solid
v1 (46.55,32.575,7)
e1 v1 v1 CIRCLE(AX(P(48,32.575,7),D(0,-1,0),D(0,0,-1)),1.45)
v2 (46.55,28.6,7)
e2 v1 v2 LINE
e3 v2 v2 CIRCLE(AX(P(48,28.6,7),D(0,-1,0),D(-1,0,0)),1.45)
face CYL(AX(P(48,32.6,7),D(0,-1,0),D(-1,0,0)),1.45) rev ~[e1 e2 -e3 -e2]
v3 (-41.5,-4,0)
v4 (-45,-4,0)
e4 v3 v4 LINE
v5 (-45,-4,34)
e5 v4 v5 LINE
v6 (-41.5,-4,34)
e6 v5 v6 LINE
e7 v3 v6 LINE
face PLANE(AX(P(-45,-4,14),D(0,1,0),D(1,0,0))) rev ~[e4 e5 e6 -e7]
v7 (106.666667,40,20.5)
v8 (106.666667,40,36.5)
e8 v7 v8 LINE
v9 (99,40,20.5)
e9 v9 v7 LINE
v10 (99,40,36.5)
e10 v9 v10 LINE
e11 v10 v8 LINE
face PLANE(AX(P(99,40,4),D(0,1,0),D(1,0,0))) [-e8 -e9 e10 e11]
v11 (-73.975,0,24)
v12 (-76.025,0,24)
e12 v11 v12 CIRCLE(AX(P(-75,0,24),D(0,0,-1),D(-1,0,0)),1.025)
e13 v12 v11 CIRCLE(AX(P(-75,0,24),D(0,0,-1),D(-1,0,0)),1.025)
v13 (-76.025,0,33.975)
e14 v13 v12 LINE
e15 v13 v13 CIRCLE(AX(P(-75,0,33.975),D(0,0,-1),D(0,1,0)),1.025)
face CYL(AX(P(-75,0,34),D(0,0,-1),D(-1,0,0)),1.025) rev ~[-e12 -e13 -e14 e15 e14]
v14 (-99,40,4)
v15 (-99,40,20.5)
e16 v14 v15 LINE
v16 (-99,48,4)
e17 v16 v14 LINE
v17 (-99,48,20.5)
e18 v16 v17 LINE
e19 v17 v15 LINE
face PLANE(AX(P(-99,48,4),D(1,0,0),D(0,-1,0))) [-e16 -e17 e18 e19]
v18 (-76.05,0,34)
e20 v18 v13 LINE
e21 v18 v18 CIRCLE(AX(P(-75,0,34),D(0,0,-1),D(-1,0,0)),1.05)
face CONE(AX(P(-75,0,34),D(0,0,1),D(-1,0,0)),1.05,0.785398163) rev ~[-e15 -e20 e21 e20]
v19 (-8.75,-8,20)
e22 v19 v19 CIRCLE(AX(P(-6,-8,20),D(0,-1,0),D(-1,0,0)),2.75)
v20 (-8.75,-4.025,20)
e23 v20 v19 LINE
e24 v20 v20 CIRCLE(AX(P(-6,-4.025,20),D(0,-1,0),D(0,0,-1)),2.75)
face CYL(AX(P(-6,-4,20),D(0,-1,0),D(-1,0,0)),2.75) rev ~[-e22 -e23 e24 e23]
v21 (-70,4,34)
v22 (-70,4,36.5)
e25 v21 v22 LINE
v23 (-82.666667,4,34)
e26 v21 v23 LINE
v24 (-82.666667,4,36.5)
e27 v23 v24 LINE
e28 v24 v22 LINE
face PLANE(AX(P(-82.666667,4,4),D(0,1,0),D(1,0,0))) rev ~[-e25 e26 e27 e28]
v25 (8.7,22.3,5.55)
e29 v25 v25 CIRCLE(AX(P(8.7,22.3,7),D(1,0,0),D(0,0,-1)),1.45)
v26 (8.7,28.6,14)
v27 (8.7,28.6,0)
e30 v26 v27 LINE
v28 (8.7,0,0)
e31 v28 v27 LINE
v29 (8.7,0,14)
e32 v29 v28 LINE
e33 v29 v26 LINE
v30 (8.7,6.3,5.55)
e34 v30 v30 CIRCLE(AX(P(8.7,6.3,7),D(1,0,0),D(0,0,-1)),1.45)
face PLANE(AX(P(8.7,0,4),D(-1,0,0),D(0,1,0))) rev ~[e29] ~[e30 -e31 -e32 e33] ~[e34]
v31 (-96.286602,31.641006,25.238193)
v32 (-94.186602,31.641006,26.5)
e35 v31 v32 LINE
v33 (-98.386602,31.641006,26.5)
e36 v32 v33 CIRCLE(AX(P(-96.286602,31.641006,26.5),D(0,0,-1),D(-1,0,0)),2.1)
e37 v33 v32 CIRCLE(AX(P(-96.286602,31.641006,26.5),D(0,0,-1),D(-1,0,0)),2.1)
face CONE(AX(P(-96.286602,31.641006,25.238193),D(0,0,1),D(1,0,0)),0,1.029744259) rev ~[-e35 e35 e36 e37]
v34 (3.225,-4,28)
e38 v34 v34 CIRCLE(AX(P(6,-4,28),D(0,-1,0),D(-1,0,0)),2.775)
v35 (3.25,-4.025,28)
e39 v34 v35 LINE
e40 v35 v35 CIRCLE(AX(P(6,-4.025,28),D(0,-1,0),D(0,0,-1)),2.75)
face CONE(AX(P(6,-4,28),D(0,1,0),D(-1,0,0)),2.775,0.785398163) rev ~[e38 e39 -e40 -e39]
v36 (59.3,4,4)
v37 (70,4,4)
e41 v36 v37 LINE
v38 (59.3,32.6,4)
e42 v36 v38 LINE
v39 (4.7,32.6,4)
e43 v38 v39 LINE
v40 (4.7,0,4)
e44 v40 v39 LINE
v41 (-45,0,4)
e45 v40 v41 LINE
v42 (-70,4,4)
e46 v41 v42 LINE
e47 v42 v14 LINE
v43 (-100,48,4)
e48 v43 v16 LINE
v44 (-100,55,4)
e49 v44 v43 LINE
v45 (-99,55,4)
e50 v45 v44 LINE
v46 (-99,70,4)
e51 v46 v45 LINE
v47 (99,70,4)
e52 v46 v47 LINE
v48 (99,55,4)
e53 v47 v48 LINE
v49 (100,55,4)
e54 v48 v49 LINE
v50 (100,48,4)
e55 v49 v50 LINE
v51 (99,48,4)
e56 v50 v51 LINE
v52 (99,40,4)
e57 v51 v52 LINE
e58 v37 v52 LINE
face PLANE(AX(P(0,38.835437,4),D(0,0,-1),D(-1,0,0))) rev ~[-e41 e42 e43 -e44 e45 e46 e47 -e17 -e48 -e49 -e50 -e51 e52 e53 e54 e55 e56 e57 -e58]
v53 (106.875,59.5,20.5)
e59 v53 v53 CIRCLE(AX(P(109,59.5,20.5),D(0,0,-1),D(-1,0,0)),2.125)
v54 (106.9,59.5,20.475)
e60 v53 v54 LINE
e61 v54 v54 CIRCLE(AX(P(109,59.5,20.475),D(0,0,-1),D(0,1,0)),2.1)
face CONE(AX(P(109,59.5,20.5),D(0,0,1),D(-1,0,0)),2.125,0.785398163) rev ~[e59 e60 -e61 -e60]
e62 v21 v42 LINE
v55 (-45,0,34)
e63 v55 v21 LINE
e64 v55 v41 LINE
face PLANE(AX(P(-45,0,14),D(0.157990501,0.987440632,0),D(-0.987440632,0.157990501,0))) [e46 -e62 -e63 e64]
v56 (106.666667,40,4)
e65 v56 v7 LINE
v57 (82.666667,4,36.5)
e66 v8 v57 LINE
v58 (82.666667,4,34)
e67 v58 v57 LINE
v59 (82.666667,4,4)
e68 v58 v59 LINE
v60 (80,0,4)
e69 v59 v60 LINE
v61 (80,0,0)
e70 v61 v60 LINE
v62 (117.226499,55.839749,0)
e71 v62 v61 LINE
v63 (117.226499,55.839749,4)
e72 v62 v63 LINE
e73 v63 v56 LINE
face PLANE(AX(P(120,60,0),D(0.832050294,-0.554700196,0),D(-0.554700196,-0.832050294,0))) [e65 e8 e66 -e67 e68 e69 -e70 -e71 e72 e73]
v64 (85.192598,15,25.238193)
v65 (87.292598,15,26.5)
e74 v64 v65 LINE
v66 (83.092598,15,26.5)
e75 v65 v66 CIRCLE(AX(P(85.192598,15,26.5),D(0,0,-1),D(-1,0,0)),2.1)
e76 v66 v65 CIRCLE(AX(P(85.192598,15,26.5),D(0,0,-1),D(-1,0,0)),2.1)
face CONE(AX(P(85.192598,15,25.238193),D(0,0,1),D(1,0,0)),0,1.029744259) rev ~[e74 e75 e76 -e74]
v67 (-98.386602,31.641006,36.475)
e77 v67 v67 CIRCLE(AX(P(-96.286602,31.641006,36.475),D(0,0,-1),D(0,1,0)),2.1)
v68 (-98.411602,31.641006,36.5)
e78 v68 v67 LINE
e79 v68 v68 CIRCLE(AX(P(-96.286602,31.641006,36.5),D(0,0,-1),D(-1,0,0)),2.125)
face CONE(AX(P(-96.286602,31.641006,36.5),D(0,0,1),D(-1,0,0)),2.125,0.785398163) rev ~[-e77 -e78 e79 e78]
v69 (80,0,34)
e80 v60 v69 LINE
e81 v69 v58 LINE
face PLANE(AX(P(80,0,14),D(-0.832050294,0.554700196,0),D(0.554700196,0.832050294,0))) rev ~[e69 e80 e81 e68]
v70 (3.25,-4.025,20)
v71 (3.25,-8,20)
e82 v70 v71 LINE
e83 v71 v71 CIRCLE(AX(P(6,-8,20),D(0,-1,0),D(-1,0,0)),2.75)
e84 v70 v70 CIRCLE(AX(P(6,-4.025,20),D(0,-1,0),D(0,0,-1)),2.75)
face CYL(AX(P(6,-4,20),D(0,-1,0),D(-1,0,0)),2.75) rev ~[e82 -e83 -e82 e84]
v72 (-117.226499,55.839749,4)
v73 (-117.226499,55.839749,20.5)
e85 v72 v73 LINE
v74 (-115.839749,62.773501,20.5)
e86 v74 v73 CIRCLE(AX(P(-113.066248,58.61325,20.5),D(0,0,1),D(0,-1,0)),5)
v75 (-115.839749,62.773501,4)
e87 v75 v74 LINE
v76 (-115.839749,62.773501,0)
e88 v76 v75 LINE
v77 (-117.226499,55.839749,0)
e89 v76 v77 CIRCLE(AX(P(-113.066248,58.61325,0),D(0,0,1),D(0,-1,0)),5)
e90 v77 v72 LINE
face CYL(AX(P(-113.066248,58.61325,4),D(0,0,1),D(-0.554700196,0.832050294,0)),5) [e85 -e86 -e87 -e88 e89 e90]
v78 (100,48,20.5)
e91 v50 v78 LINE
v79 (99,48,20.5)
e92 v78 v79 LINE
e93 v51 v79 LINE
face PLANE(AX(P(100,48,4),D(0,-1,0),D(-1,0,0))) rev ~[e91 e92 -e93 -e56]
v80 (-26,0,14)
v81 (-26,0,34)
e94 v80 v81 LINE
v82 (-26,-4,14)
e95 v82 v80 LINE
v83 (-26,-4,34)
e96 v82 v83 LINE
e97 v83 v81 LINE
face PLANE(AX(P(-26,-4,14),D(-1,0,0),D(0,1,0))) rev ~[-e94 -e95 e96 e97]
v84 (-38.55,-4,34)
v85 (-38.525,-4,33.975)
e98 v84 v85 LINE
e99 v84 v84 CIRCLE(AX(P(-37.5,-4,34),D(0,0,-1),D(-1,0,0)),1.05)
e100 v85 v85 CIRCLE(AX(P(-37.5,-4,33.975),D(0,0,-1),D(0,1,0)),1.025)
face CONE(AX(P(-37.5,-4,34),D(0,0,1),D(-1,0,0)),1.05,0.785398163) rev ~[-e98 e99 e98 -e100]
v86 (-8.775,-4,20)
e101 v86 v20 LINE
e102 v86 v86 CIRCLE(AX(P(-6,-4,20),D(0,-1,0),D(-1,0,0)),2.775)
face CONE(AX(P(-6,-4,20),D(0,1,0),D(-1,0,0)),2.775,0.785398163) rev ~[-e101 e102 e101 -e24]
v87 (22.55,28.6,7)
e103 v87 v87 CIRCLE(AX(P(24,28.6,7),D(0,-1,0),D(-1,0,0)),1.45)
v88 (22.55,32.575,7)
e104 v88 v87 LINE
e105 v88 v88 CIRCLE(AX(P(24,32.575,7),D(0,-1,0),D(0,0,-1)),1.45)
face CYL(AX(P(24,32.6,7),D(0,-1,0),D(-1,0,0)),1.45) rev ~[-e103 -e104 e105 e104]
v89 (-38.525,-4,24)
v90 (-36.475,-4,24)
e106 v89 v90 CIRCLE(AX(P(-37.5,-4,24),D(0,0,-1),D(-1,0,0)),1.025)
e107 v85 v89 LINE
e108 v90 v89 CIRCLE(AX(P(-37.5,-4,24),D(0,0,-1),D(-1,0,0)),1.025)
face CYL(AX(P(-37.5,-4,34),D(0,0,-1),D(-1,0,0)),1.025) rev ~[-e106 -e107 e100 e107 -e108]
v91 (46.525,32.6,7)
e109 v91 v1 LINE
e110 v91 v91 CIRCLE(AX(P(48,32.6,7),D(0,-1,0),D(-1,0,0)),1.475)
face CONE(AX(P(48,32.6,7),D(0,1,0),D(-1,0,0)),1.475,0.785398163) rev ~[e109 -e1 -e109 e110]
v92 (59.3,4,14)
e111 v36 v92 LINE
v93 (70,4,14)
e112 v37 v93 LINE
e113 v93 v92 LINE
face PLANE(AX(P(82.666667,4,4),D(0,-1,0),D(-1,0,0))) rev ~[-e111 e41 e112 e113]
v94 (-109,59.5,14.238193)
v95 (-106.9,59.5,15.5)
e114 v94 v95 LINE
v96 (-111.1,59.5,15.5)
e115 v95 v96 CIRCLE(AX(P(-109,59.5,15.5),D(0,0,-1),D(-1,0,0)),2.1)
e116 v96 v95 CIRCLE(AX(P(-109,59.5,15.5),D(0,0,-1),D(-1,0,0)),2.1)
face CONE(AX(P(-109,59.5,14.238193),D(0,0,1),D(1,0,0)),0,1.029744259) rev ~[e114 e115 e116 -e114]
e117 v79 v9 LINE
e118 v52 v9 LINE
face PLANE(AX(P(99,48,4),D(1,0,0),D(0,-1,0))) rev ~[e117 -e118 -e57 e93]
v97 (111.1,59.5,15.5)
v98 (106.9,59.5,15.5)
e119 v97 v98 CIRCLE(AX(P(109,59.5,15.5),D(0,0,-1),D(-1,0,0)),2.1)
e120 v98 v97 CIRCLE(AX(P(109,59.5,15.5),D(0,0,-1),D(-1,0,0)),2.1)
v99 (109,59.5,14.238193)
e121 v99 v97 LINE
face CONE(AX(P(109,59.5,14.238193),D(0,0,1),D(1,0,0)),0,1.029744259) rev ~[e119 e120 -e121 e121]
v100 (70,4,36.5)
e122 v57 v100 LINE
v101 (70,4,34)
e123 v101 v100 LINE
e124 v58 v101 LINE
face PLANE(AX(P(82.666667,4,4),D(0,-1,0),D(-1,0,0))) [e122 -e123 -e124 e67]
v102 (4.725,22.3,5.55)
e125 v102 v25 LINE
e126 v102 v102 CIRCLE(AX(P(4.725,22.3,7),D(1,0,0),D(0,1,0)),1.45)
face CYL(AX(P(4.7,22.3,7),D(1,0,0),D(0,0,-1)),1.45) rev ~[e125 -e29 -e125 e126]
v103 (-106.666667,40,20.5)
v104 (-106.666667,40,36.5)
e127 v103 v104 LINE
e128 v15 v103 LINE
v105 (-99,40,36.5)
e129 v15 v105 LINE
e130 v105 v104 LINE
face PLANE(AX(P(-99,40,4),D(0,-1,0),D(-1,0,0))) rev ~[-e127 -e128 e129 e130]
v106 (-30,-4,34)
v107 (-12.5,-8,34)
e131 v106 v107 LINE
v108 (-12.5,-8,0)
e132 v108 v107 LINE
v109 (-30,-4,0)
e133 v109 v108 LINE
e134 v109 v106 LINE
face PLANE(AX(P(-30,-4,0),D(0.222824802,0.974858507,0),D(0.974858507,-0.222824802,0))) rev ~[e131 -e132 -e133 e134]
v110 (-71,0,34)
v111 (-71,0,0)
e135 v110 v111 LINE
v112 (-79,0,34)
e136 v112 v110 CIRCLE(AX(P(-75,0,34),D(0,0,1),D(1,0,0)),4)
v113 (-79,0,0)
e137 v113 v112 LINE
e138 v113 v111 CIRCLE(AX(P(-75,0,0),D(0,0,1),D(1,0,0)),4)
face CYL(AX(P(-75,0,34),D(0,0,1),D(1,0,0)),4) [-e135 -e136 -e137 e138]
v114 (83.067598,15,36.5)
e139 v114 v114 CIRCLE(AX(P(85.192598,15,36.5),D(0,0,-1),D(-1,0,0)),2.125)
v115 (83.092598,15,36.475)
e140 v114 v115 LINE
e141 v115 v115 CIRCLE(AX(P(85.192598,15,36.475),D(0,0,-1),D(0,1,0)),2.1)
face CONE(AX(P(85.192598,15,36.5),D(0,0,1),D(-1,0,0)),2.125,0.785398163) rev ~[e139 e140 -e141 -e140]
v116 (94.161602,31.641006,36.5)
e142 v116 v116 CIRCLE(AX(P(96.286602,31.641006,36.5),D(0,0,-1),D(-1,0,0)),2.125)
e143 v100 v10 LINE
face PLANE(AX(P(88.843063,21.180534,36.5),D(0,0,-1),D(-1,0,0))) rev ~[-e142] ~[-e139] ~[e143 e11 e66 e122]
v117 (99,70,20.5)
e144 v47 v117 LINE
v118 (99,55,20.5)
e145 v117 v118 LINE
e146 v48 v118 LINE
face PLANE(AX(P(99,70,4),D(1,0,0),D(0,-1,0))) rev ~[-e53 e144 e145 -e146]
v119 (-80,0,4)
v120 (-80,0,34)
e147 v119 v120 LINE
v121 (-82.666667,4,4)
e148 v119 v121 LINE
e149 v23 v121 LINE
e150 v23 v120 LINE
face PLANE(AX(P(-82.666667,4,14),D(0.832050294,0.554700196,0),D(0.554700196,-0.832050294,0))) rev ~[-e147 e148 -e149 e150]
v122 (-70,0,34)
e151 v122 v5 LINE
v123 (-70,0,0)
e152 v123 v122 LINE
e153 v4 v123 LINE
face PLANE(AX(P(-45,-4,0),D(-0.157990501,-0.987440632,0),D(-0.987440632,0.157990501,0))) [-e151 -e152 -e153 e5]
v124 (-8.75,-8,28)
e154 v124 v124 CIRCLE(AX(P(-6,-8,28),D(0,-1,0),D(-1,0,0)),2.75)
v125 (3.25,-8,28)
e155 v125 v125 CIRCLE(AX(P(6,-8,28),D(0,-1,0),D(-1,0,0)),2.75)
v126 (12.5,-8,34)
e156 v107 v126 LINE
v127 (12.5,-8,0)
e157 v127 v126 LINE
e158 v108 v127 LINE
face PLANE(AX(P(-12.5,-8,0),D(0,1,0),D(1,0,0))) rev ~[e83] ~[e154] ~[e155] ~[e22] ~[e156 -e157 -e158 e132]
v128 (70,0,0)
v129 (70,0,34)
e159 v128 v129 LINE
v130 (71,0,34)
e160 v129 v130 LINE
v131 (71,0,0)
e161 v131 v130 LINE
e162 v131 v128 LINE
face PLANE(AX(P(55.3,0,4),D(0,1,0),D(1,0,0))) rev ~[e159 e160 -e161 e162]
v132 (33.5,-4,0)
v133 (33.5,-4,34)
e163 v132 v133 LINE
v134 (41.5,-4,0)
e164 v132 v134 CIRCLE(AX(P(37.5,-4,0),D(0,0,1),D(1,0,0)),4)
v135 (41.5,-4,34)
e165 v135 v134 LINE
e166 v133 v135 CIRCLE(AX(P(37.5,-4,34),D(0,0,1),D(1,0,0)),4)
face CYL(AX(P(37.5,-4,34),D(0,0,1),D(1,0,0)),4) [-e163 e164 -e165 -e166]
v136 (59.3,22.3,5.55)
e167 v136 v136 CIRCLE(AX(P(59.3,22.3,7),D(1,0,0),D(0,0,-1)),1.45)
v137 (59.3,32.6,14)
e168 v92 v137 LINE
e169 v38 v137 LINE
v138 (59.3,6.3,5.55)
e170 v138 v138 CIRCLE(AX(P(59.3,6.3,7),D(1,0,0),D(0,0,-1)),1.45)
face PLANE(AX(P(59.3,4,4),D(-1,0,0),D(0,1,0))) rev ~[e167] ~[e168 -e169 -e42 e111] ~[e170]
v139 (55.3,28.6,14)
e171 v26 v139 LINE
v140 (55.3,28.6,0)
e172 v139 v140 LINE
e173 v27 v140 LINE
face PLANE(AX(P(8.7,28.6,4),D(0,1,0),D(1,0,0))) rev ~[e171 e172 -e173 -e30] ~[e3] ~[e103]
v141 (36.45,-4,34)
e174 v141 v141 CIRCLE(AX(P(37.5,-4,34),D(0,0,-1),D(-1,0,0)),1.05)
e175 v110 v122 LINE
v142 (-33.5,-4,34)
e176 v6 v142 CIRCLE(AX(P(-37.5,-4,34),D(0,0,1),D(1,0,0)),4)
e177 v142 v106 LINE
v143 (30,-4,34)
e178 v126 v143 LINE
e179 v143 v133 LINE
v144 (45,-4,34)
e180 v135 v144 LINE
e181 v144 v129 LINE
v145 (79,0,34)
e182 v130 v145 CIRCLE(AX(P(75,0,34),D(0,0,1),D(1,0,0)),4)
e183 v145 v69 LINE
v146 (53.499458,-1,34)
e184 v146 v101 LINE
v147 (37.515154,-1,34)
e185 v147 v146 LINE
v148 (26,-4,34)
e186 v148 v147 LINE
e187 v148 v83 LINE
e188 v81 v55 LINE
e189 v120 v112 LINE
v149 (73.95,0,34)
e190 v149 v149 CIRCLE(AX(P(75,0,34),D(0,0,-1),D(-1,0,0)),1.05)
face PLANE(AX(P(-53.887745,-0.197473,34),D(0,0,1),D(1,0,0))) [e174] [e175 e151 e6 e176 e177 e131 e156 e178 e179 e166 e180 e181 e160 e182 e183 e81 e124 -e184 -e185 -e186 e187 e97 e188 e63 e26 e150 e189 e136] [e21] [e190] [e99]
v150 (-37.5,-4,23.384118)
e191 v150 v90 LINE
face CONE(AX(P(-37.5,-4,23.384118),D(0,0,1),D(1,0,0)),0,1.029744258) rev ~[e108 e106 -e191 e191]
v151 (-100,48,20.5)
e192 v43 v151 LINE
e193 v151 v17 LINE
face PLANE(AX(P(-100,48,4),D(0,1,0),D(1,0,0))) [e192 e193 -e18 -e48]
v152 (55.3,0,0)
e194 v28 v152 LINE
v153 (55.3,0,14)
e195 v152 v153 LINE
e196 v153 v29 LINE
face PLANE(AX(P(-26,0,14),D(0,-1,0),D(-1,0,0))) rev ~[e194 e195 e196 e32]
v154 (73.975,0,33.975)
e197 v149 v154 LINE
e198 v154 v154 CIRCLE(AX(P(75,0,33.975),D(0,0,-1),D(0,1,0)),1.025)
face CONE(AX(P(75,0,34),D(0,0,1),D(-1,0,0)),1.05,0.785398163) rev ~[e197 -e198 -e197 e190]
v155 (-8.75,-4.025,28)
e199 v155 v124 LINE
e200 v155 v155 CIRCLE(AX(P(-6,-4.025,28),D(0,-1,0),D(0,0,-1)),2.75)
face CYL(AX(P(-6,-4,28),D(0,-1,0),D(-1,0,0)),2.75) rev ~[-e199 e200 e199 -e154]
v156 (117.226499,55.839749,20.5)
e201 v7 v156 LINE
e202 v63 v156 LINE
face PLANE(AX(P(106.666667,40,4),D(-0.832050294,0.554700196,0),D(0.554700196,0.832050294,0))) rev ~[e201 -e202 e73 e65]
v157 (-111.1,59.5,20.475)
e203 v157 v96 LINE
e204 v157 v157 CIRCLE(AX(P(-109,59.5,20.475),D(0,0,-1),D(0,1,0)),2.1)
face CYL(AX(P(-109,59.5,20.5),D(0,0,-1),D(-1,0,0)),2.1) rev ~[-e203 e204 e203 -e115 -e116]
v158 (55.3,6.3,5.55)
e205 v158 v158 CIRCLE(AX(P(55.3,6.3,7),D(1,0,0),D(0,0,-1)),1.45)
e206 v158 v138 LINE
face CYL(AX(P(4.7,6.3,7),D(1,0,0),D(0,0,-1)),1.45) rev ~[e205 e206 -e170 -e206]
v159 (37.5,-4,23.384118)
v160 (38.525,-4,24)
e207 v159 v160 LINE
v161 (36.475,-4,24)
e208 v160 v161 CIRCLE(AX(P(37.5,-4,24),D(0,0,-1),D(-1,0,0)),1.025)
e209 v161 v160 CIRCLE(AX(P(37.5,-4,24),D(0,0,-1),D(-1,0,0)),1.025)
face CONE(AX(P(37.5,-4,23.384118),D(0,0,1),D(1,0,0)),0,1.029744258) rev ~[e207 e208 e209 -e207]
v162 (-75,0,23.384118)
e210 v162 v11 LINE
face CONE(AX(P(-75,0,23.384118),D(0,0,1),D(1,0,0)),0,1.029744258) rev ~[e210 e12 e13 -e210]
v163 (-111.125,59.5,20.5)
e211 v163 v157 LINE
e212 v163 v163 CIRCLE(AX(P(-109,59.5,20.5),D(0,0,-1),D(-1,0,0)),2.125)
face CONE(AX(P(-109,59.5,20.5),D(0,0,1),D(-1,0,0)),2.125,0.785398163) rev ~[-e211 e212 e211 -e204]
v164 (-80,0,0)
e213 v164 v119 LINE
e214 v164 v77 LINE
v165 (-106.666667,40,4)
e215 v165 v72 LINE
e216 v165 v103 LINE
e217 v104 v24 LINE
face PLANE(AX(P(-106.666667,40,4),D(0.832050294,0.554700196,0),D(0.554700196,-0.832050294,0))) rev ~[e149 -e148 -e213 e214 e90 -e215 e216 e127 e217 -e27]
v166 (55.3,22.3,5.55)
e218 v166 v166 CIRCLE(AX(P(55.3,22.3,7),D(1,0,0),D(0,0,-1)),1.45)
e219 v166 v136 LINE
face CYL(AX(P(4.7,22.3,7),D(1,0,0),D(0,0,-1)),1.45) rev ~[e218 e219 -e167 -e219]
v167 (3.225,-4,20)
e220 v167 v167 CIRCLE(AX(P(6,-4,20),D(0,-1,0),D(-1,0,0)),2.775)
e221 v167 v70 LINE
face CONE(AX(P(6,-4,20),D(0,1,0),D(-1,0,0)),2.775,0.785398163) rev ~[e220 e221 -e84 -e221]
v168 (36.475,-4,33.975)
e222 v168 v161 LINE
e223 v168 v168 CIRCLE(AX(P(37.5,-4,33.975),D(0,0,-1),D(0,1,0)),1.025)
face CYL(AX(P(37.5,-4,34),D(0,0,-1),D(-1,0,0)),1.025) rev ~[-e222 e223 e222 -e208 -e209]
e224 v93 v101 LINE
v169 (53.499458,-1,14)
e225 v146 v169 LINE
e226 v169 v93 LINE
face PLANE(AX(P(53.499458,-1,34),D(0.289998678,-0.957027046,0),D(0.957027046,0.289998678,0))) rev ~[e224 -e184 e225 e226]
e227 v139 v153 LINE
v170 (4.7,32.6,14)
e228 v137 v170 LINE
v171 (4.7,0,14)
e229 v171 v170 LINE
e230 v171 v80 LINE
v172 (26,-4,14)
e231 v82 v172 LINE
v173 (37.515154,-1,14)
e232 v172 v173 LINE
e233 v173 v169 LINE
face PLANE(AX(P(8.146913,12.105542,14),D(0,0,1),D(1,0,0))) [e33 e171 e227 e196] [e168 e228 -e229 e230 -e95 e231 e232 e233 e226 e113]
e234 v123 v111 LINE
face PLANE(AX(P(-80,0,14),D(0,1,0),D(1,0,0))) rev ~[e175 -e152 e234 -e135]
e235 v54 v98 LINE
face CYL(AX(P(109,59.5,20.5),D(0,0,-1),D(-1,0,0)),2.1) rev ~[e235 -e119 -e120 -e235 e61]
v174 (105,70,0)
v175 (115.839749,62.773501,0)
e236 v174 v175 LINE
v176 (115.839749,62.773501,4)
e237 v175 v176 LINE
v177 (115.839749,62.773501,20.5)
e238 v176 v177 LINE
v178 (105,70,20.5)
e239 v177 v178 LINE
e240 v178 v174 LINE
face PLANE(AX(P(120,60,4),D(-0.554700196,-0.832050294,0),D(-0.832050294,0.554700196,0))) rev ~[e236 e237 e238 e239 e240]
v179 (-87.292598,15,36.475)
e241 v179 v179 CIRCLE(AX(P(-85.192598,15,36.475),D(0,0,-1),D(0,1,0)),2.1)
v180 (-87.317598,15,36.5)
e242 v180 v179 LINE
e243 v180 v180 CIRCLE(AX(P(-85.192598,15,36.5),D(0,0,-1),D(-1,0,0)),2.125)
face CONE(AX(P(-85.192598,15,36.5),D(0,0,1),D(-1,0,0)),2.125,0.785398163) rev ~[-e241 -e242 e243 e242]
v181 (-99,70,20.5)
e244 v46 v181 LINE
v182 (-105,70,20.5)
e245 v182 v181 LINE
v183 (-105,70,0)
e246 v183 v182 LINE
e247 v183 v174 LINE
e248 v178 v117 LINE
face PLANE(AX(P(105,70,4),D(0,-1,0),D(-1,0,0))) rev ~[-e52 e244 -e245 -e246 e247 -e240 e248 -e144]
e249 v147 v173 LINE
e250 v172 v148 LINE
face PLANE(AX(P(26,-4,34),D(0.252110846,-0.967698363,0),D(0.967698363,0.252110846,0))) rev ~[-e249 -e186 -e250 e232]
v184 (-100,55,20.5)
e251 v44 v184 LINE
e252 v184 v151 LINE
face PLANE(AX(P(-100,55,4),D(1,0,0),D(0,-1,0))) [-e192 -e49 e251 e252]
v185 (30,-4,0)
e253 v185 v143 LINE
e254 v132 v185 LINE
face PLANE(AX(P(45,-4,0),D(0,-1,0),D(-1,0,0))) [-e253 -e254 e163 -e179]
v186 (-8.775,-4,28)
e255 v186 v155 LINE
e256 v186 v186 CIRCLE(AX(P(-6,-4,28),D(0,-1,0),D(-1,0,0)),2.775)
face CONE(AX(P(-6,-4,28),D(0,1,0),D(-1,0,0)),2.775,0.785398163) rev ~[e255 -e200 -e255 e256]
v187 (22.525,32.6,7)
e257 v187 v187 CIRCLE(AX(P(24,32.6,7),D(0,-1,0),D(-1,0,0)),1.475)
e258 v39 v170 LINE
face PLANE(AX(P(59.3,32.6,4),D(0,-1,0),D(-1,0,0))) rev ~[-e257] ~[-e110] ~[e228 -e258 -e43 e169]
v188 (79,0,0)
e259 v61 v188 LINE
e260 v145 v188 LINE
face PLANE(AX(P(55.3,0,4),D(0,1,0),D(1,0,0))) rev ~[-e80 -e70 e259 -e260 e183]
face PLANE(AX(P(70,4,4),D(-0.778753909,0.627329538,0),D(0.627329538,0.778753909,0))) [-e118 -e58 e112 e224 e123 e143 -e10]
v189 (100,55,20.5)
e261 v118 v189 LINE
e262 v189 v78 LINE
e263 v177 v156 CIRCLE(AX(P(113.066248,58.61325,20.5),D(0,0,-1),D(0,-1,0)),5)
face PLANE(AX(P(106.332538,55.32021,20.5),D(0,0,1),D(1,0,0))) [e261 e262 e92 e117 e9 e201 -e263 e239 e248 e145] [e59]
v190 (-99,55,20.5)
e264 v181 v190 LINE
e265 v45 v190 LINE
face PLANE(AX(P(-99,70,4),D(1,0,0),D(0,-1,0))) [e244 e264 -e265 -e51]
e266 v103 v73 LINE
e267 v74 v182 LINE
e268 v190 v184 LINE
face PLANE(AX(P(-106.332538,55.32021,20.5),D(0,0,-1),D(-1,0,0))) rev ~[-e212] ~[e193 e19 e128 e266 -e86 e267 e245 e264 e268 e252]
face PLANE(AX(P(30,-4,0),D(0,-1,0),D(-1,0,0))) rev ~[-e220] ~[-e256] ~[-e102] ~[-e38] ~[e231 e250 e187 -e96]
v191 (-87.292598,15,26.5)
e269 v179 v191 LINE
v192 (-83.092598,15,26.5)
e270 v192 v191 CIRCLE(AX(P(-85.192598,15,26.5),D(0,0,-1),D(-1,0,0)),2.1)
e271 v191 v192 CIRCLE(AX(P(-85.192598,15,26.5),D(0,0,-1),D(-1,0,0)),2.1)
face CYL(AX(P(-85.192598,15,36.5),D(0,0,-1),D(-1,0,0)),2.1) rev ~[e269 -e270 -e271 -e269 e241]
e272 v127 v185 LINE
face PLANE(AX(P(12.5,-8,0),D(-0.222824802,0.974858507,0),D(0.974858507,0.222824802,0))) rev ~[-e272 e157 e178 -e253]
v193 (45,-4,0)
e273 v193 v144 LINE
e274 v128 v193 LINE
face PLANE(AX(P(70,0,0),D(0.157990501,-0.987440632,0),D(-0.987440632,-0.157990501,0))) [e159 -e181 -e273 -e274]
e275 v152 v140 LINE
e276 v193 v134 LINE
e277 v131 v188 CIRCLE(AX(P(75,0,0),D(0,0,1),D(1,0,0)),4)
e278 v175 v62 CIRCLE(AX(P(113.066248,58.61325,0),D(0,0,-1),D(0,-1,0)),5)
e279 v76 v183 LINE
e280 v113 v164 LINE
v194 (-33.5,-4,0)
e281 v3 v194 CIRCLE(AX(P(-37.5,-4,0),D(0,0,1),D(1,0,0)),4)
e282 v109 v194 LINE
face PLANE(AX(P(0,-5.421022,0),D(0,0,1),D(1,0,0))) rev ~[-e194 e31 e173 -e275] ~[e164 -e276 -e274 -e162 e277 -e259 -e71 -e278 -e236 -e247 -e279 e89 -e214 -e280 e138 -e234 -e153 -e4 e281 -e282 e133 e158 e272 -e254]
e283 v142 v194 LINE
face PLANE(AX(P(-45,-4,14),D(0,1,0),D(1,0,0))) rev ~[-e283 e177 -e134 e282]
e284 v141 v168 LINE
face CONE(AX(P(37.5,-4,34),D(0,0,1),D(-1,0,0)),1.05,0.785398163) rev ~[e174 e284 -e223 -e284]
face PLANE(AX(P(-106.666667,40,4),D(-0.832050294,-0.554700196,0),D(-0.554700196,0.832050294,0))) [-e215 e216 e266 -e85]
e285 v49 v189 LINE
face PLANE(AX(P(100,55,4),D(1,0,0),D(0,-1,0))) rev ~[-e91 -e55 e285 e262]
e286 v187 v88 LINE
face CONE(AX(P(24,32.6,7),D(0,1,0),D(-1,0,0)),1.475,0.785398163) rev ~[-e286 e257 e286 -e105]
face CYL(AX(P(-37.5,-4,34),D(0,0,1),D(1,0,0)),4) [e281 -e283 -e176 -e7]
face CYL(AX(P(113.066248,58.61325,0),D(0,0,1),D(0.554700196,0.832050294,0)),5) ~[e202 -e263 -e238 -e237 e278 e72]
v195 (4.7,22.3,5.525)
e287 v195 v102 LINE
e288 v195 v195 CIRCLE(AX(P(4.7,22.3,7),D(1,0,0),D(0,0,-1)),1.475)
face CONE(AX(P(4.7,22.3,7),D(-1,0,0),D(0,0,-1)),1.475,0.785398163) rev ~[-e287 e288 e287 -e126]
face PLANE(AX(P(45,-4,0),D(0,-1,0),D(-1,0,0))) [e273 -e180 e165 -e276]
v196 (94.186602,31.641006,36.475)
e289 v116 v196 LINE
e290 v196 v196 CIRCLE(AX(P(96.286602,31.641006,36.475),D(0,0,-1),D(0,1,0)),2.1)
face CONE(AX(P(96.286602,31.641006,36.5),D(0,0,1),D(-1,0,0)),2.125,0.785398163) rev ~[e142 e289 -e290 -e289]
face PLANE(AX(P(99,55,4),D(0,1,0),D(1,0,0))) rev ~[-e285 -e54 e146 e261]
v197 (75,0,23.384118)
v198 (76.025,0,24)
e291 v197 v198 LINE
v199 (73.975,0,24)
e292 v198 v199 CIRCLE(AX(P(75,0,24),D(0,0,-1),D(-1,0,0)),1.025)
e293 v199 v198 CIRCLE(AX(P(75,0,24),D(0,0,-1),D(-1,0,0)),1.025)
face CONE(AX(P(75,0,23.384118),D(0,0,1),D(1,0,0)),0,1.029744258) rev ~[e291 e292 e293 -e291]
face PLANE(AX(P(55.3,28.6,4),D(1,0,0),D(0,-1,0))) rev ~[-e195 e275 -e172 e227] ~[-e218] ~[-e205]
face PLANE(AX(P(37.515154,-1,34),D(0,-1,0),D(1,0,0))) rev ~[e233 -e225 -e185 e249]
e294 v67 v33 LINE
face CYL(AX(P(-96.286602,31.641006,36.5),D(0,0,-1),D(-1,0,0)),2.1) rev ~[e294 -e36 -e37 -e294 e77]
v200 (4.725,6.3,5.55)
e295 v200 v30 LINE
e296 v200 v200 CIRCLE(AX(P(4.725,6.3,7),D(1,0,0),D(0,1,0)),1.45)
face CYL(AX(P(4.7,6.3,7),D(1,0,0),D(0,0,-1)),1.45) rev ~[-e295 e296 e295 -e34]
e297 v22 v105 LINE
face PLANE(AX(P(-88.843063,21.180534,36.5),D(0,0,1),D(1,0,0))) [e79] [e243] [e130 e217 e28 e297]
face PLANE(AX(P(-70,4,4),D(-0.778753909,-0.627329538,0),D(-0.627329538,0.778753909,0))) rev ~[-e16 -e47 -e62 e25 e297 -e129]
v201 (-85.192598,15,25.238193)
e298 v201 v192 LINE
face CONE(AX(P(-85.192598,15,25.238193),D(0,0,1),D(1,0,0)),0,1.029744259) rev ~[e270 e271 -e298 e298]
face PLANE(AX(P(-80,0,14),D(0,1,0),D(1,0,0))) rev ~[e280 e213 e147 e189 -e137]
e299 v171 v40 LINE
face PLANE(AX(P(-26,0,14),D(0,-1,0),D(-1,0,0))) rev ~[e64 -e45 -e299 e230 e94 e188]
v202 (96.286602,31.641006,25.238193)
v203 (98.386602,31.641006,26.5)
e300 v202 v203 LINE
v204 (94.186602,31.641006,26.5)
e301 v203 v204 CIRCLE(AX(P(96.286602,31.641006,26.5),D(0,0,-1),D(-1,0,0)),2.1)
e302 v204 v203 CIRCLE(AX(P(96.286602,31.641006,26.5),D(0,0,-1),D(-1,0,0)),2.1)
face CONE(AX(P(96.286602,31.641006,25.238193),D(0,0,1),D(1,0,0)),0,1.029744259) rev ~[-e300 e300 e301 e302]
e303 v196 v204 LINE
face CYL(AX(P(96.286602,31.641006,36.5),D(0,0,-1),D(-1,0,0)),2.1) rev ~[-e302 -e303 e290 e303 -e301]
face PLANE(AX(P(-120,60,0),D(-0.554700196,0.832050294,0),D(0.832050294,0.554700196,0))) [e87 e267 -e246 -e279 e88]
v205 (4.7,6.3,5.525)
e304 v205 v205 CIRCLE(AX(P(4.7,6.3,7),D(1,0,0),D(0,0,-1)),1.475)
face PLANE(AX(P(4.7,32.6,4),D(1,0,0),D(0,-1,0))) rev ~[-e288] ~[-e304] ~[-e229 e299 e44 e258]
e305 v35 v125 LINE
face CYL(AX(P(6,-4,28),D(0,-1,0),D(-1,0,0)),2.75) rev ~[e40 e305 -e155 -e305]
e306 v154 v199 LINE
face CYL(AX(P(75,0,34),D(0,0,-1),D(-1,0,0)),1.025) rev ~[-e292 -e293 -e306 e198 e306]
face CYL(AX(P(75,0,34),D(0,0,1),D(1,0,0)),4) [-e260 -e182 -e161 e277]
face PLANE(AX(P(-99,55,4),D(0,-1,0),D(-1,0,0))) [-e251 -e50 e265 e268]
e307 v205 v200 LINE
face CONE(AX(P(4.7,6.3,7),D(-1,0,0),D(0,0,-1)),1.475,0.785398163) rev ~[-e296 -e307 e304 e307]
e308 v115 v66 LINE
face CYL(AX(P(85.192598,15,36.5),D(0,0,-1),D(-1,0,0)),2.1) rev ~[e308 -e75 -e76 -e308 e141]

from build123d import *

# Parameters (mm, degrees)
EXTRUDE_1_DEPTH                  = 4
EXTRUDE_2_DEPTH                  = 16.5
SKETCH_4_W                       = 46.6
SKETCH_4_H                       = 28.6
CUT_EXTRUDE_1_DEPTH              = 4
EXTRUDE_3_DEPTH                  = 10
HOLE_WIZARD_M2_5_1_D             = 2.9
HOLE_WIZARD_M2_5_1_CSINK_D       = 2.95
HOLE_WIZARD_M2_5_1_CSINK_ANGLE   = 90
HOLE_WIZARD_M2_5_2_D             = 2.9
HOLE_WIZARD_M2_5_2_CSINK_D       = 2.95
HOLE_WIZARD_M2_5_2_CSINK_ANGLE   = 90
HOLE_WIZARD_M5_1_D               = 4.2
HOLE_WIZARD_M5_1_DEPTH           = 5
HOLE_WIZARD_M5_1_CSINK_D         = 4.25
HOLE_WIZARD_M5_1_CSINK_ANGLE     = 90
HOLE_WIZARD_M5_1_TIP             = 1.2618073
EXTRUDE_4_DEPTH                  = 17
EXTRUDE_START                    = -17
EXTRUDE_5_DEPTH                  = 34
EXTRUDE_6_DEPTH                  = 20
SKETCH_20_W                      = 52
SKETCH_20_H                      = 4
CUT_EXTRUDE_2_DEPTH              = 3
CUT_EXTRUDE_3_DEPTH              = 10
SKETCH_22_R                      = 4
EXTRUDE_7_DEPTH                  = 34
HOLE_WIZARD_M2_5_1_2_D           = 2.05
HOLE_WIZARD_M2_5_1_2_DEPTH       = 10
HOLE_WIZARD_M2_5_1_2_CSINK_D     = 2.1
HOLE_WIZARD_M2_5_1_2_CSINK_ANGLE = 90
HOLE_WIZARD_M2_5_1_2_TIP         = 0.615882135
CUT_EXTRUDE_4_DEPTH              = 20
EXTRUDE_8_DEPTH                  = 32.5
HOLE_WIZARD_M5_2_D               = 4.2
HOLE_WIZARD_M5_2_DEPTH           = 10
HOLE_WIZARD_M5_2_CSINK_D         = 4.25
HOLE_WIZARD_M5_2_CSINK_ANGLE     = 90
HOLE_WIZARD_M5_2_TIP             = 1.2618073
FILLET_1_R                       = 5
HOLE_WIZARD_M5_1_2_D             = 5.5
HOLE_WIZARD_M5_1_2_DEPTH         = 10
HOLE_WIZARD_M5_1_2_CSINK_D       = 5.55
HOLE_WIZARD_M5_1_2_CSINK_ANGLE   = 90
HOLE_WIZARD_M5_1_2_TIP           = 1.652366702


with BuildPart() as part:
    # 草图2 → 凸台-拉伸1 (new body)
    with BuildSketch(Plane.XY):
        Polygon((80, 0), (-80, 0), (-120, 60), (-105, 70), (105, 70), (120, 60), align=None)
    extrude(amount=EXTRUDE_1_DEPTH)

    # 草图3 → 凸台-拉伸2 (add)
    with BuildSketch(Plane.XY.offset(4)):
        Polygon((105, 70), (99, 70), (99, 55), (100, 55), (100, 48), (99, 48), (99, 40), (106.666666667, 40), (120, 60), align=None)
        Polygon((-120, 60), (-105, 70), (-99, 70), (-99, 55), (-100, 55), (-100, 48), (-99, 48), (-99, 40), (-106.666666667, 40), align=None)
    extrude(amount=EXTRUDE_2_DEPTH)

    # 草图4 → 切除-拉伸1 (cut)
    with BuildSketch(Plane.XY.offset(4)):
        with Locations((32, 14.3)):
            Rectangle(SKETCH_4_W, SKETCH_4_H)
    extrude(amount=-CUT_EXTRUDE_1_DEPTH, mode=Mode.SUBTRACT)

    # 草图5 → 凸台-拉伸3 (add)
    with BuildSketch(Plane.XY.offset(4)):
        Polygon((55.3, 28.6), (55.3, 0), (80, 0), (82.666666667, 4), (59.3, 4), (59.3, 32.6), (4.7, 32.6), (4.7, 4), (-82.666666667, 4), (-80, 0), (8.7, 0), (8.7, 28.6), align=None)
    extrude(amount=EXTRUDE_3_DEPTH)

    # Hole Wizard M2.5 _1 (through all)
    with Locations(Plane(origin=(0, 32.6, 0), x_dir=(1, 0, 0), z_dir=(0, 1, 0))):
        with Locations((24, -7), (48, -7)):
            CounterSinkHole(HOLE_WIZARD_M2_5_1_D / 2, HOLE_WIZARD_M2_5_1_CSINK_D / 2, counter_sink_angle=HOLE_WIZARD_M2_5_1_CSINK_ANGLE)

    # M2.5 间隙孔2 (through all)
    with Locations(Plane.ZY.offset(-4.7)):
        with Locations((7, 22.3), (7, 6.3)):
            CounterSinkHole(HOLE_WIZARD_M2_5_2_D / 2, HOLE_WIZARD_M2_5_2_CSINK_D / 2, counter_sink_angle=HOLE_WIZARD_M2_5_2_CSINK_ANGLE)

    # Hole Wizard M5 _1
    with Locations(Plane.XY.offset(20.5)):
        with Locations((-109, 59.5), (109, 59.5)):
            CounterSinkHole(HOLE_WIZARD_M5_1_D / 2, HOLE_WIZARD_M5_1_CSINK_D / 2, depth=HOLE_WIZARD_M5_1_DEPTH, counter_sink_angle=HOLE_WIZARD_M5_1_CSINK_ANGLE)
            with Locations((0, 0, -(HOLE_WIZARD_M5_1_DEPTH + HOLE_WIZARD_M5_1_TIP / 2))):  # 118° drill point
                Cone(0, HOLE_WIZARD_M5_1_D / 2, HOLE_WIZARD_M5_1_TIP, mode=Mode.SUBTRACT)

    # 草图16 → 凸台-拉伸4 (add)
    with BuildSketch(Plane(origin=(0, 0, 0), x_dir=(-1, 0, 0), z_dir=(0, 0, -1))):
        Polygon((-70, 0), (-45, -4), (45, -4), (70, 0), align=None)
    extrude(amount=-EXTRUDE_4_DEPTH)

    # 草图17 → 凸台-拉伸5 (add)
    with BuildSketch(Plane.XY.offset(17).offset(EXTRUDE_START)):
        Polygon((-30, -4), (-12.5, -8), (12.5, -8), (30, -4), align=None)
    extrude(amount=EXTRUDE_5_DEPTH)

    # 草图19 → 凸台-拉伸6 (add)
    with BuildSketch(Plane.XY.offset(14)):
        Polygon((-78.666666667, 4), (-82.666666667, 4), (-80, 0), (-70, 0), (-45, -4), (-26, -4), (-26, 0), (-45, 0), (-70, 4), align=None)
        Polygon((45, 0), (26, 0), (26, -4), (45, -4), (70, 0), (80, 0), (82.666666667, 4), (78.666666667, 4), (70, 4), align=None)
    extrude(amount=EXTRUDE_6_DEPTH)

    # 草图20 → 切除-拉伸2 (cut)
    with BuildSketch(Plane.XY.offset(17)):
        with Locations((0, -2)):
            Rectangle(SKETCH_20_W, SKETCH_20_H)
    extrude(amount=-CUT_EXTRUDE_2_DEPTH, mode=Mode.SUBTRACT)

    # 草图21 → 切除-拉伸3 (cut)
    with BuildSketch(Plane.XY.offset(14)):
        Polygon((4.7, 4), (4.7, 0), (-45, 0), (-70, 4), align=None)
    extrude(amount=-CUT_EXTRUDE_3_DEPTH, mode=Mode.SUBTRACT)

    # 草图22 → 凸台-拉伸7 (add)
    with BuildSketch(Plane.XY.offset(34)):
        with Locations((-75, 0)):
            Circle(SKETCH_22_R)
        with Locations((-37.5, -4)):
            Circle(SKETCH_22_R)
        with Locations((37.5, -4)):
            Circle(SKETCH_22_R)
        with Locations((75, 0)):
            Circle(SKETCH_22_R)
    extrude(amount=-EXTRUDE_7_DEPTH)

    # Hole Wizard M2.5 _1 2
    with Locations(Plane.XY.offset(34)):
        with Locations((-75, 0), (-37.5, -4), (37.5, -4), (75, 0)):
            CounterSinkHole(HOLE_WIZARD_M2_5_1_2_D / 2, HOLE_WIZARD_M2_5_1_2_CSINK_D / 2, depth=HOLE_WIZARD_M2_5_1_2_DEPTH, counter_sink_angle=HOLE_WIZARD_M2_5_1_2_CSINK_ANGLE)
            with Locations((0, 0, -(HOLE_WIZARD_M2_5_1_2_DEPTH + HOLE_WIZARD_M2_5_1_2_TIP / 2))):  # 118° drill point
                Cone(0, HOLE_WIZARD_M2_5_1_2_D / 2, HOLE_WIZARD_M2_5_1_2_TIP, mode=Mode.SUBTRACT)

    # 草图25 → 切除-拉伸4 (cut)
    with BuildSketch(Plane.XY.offset(34)):
        Polygon((26, 0), (26, -4), (37.515153504, -1), (53.499458489, -1), (70, 4), (45, 0), align=None)
    extrude(amount=-CUT_EXTRUDE_4_DEPTH, mode=Mode.SUBTRACT)

    # 草图26 → 凸台-拉伸8 (add)
    with BuildSketch(Plane.XY.offset(4)):
        Polygon((-99, 40), (-106.666666667, 40), (-82.666666667, 4), (-70, 4), align=None)
        Polygon((82.666666667, 4), (70, 4), (99, 40), (106.666666667, 40), align=None)
    extrude(amount=EXTRUDE_8_DEPTH)

    # M5 螺纹孔的螺纹孔钻头2
    with Locations(Plane.XY.offset(36.5)):
        with Locations((-96.286602224, 31.641005887), (-85.192598299, 15), (85.192598299, 15), (96.286602224, 31.641005887)):
            CounterSinkHole(HOLE_WIZARD_M5_2_D / 2, HOLE_WIZARD_M5_2_CSINK_D / 2, depth=HOLE_WIZARD_M5_2_DEPTH, counter_sink_angle=HOLE_WIZARD_M5_2_CSINK_ANGLE)
            with Locations((0, 0, -(HOLE_WIZARD_M5_2_DEPTH + HOLE_WIZARD_M5_2_TIP / 2))):  # 118° drill point
                Cone(0, HOLE_WIZARD_M5_2_D / 2, HOLE_WIZARD_M5_2_TIP, mode=Mode.SUBTRACT)

    # 圆角1
    fillet_1_edges = [part.edges().sort_by_distance(p)[0] for p in [
        (120, 60, 10.25),
        (-120, 60, 10.25),
    ]]
    fillet(fillet_1_edges, radius=FILLET_1_R)

    # Hole Wizard M5 _1 2
    with Locations(Plane(origin=(0, -4, 0), x_dir=(1, 0, 0), z_dir=(0, 1, 0))):
        with Locations((-6, -20), (6, -20), (6, -28), (-6, -28)):
            CounterSinkHole(HOLE_WIZARD_M5_1_2_D / 2, HOLE_WIZARD_M5_1_2_CSINK_D / 2, depth=HOLE_WIZARD_M5_1_2_DEPTH, counter_sink_angle=HOLE_WIZARD_M5_1_2_CSINK_ANGLE)
            with Locations((0, 0, -(HOLE_WIZARD_M5_1_2_DEPTH + HOLE_WIZARD_M5_1_2_TIP / 2))):  # 118° drill point
                Cone(0, HOLE_WIZARD_M5_1_2_D / 2, HOLE_WIZARD_M5_1_2_TIP, mode=Mode.SUBTRACT)


solid = part.part
